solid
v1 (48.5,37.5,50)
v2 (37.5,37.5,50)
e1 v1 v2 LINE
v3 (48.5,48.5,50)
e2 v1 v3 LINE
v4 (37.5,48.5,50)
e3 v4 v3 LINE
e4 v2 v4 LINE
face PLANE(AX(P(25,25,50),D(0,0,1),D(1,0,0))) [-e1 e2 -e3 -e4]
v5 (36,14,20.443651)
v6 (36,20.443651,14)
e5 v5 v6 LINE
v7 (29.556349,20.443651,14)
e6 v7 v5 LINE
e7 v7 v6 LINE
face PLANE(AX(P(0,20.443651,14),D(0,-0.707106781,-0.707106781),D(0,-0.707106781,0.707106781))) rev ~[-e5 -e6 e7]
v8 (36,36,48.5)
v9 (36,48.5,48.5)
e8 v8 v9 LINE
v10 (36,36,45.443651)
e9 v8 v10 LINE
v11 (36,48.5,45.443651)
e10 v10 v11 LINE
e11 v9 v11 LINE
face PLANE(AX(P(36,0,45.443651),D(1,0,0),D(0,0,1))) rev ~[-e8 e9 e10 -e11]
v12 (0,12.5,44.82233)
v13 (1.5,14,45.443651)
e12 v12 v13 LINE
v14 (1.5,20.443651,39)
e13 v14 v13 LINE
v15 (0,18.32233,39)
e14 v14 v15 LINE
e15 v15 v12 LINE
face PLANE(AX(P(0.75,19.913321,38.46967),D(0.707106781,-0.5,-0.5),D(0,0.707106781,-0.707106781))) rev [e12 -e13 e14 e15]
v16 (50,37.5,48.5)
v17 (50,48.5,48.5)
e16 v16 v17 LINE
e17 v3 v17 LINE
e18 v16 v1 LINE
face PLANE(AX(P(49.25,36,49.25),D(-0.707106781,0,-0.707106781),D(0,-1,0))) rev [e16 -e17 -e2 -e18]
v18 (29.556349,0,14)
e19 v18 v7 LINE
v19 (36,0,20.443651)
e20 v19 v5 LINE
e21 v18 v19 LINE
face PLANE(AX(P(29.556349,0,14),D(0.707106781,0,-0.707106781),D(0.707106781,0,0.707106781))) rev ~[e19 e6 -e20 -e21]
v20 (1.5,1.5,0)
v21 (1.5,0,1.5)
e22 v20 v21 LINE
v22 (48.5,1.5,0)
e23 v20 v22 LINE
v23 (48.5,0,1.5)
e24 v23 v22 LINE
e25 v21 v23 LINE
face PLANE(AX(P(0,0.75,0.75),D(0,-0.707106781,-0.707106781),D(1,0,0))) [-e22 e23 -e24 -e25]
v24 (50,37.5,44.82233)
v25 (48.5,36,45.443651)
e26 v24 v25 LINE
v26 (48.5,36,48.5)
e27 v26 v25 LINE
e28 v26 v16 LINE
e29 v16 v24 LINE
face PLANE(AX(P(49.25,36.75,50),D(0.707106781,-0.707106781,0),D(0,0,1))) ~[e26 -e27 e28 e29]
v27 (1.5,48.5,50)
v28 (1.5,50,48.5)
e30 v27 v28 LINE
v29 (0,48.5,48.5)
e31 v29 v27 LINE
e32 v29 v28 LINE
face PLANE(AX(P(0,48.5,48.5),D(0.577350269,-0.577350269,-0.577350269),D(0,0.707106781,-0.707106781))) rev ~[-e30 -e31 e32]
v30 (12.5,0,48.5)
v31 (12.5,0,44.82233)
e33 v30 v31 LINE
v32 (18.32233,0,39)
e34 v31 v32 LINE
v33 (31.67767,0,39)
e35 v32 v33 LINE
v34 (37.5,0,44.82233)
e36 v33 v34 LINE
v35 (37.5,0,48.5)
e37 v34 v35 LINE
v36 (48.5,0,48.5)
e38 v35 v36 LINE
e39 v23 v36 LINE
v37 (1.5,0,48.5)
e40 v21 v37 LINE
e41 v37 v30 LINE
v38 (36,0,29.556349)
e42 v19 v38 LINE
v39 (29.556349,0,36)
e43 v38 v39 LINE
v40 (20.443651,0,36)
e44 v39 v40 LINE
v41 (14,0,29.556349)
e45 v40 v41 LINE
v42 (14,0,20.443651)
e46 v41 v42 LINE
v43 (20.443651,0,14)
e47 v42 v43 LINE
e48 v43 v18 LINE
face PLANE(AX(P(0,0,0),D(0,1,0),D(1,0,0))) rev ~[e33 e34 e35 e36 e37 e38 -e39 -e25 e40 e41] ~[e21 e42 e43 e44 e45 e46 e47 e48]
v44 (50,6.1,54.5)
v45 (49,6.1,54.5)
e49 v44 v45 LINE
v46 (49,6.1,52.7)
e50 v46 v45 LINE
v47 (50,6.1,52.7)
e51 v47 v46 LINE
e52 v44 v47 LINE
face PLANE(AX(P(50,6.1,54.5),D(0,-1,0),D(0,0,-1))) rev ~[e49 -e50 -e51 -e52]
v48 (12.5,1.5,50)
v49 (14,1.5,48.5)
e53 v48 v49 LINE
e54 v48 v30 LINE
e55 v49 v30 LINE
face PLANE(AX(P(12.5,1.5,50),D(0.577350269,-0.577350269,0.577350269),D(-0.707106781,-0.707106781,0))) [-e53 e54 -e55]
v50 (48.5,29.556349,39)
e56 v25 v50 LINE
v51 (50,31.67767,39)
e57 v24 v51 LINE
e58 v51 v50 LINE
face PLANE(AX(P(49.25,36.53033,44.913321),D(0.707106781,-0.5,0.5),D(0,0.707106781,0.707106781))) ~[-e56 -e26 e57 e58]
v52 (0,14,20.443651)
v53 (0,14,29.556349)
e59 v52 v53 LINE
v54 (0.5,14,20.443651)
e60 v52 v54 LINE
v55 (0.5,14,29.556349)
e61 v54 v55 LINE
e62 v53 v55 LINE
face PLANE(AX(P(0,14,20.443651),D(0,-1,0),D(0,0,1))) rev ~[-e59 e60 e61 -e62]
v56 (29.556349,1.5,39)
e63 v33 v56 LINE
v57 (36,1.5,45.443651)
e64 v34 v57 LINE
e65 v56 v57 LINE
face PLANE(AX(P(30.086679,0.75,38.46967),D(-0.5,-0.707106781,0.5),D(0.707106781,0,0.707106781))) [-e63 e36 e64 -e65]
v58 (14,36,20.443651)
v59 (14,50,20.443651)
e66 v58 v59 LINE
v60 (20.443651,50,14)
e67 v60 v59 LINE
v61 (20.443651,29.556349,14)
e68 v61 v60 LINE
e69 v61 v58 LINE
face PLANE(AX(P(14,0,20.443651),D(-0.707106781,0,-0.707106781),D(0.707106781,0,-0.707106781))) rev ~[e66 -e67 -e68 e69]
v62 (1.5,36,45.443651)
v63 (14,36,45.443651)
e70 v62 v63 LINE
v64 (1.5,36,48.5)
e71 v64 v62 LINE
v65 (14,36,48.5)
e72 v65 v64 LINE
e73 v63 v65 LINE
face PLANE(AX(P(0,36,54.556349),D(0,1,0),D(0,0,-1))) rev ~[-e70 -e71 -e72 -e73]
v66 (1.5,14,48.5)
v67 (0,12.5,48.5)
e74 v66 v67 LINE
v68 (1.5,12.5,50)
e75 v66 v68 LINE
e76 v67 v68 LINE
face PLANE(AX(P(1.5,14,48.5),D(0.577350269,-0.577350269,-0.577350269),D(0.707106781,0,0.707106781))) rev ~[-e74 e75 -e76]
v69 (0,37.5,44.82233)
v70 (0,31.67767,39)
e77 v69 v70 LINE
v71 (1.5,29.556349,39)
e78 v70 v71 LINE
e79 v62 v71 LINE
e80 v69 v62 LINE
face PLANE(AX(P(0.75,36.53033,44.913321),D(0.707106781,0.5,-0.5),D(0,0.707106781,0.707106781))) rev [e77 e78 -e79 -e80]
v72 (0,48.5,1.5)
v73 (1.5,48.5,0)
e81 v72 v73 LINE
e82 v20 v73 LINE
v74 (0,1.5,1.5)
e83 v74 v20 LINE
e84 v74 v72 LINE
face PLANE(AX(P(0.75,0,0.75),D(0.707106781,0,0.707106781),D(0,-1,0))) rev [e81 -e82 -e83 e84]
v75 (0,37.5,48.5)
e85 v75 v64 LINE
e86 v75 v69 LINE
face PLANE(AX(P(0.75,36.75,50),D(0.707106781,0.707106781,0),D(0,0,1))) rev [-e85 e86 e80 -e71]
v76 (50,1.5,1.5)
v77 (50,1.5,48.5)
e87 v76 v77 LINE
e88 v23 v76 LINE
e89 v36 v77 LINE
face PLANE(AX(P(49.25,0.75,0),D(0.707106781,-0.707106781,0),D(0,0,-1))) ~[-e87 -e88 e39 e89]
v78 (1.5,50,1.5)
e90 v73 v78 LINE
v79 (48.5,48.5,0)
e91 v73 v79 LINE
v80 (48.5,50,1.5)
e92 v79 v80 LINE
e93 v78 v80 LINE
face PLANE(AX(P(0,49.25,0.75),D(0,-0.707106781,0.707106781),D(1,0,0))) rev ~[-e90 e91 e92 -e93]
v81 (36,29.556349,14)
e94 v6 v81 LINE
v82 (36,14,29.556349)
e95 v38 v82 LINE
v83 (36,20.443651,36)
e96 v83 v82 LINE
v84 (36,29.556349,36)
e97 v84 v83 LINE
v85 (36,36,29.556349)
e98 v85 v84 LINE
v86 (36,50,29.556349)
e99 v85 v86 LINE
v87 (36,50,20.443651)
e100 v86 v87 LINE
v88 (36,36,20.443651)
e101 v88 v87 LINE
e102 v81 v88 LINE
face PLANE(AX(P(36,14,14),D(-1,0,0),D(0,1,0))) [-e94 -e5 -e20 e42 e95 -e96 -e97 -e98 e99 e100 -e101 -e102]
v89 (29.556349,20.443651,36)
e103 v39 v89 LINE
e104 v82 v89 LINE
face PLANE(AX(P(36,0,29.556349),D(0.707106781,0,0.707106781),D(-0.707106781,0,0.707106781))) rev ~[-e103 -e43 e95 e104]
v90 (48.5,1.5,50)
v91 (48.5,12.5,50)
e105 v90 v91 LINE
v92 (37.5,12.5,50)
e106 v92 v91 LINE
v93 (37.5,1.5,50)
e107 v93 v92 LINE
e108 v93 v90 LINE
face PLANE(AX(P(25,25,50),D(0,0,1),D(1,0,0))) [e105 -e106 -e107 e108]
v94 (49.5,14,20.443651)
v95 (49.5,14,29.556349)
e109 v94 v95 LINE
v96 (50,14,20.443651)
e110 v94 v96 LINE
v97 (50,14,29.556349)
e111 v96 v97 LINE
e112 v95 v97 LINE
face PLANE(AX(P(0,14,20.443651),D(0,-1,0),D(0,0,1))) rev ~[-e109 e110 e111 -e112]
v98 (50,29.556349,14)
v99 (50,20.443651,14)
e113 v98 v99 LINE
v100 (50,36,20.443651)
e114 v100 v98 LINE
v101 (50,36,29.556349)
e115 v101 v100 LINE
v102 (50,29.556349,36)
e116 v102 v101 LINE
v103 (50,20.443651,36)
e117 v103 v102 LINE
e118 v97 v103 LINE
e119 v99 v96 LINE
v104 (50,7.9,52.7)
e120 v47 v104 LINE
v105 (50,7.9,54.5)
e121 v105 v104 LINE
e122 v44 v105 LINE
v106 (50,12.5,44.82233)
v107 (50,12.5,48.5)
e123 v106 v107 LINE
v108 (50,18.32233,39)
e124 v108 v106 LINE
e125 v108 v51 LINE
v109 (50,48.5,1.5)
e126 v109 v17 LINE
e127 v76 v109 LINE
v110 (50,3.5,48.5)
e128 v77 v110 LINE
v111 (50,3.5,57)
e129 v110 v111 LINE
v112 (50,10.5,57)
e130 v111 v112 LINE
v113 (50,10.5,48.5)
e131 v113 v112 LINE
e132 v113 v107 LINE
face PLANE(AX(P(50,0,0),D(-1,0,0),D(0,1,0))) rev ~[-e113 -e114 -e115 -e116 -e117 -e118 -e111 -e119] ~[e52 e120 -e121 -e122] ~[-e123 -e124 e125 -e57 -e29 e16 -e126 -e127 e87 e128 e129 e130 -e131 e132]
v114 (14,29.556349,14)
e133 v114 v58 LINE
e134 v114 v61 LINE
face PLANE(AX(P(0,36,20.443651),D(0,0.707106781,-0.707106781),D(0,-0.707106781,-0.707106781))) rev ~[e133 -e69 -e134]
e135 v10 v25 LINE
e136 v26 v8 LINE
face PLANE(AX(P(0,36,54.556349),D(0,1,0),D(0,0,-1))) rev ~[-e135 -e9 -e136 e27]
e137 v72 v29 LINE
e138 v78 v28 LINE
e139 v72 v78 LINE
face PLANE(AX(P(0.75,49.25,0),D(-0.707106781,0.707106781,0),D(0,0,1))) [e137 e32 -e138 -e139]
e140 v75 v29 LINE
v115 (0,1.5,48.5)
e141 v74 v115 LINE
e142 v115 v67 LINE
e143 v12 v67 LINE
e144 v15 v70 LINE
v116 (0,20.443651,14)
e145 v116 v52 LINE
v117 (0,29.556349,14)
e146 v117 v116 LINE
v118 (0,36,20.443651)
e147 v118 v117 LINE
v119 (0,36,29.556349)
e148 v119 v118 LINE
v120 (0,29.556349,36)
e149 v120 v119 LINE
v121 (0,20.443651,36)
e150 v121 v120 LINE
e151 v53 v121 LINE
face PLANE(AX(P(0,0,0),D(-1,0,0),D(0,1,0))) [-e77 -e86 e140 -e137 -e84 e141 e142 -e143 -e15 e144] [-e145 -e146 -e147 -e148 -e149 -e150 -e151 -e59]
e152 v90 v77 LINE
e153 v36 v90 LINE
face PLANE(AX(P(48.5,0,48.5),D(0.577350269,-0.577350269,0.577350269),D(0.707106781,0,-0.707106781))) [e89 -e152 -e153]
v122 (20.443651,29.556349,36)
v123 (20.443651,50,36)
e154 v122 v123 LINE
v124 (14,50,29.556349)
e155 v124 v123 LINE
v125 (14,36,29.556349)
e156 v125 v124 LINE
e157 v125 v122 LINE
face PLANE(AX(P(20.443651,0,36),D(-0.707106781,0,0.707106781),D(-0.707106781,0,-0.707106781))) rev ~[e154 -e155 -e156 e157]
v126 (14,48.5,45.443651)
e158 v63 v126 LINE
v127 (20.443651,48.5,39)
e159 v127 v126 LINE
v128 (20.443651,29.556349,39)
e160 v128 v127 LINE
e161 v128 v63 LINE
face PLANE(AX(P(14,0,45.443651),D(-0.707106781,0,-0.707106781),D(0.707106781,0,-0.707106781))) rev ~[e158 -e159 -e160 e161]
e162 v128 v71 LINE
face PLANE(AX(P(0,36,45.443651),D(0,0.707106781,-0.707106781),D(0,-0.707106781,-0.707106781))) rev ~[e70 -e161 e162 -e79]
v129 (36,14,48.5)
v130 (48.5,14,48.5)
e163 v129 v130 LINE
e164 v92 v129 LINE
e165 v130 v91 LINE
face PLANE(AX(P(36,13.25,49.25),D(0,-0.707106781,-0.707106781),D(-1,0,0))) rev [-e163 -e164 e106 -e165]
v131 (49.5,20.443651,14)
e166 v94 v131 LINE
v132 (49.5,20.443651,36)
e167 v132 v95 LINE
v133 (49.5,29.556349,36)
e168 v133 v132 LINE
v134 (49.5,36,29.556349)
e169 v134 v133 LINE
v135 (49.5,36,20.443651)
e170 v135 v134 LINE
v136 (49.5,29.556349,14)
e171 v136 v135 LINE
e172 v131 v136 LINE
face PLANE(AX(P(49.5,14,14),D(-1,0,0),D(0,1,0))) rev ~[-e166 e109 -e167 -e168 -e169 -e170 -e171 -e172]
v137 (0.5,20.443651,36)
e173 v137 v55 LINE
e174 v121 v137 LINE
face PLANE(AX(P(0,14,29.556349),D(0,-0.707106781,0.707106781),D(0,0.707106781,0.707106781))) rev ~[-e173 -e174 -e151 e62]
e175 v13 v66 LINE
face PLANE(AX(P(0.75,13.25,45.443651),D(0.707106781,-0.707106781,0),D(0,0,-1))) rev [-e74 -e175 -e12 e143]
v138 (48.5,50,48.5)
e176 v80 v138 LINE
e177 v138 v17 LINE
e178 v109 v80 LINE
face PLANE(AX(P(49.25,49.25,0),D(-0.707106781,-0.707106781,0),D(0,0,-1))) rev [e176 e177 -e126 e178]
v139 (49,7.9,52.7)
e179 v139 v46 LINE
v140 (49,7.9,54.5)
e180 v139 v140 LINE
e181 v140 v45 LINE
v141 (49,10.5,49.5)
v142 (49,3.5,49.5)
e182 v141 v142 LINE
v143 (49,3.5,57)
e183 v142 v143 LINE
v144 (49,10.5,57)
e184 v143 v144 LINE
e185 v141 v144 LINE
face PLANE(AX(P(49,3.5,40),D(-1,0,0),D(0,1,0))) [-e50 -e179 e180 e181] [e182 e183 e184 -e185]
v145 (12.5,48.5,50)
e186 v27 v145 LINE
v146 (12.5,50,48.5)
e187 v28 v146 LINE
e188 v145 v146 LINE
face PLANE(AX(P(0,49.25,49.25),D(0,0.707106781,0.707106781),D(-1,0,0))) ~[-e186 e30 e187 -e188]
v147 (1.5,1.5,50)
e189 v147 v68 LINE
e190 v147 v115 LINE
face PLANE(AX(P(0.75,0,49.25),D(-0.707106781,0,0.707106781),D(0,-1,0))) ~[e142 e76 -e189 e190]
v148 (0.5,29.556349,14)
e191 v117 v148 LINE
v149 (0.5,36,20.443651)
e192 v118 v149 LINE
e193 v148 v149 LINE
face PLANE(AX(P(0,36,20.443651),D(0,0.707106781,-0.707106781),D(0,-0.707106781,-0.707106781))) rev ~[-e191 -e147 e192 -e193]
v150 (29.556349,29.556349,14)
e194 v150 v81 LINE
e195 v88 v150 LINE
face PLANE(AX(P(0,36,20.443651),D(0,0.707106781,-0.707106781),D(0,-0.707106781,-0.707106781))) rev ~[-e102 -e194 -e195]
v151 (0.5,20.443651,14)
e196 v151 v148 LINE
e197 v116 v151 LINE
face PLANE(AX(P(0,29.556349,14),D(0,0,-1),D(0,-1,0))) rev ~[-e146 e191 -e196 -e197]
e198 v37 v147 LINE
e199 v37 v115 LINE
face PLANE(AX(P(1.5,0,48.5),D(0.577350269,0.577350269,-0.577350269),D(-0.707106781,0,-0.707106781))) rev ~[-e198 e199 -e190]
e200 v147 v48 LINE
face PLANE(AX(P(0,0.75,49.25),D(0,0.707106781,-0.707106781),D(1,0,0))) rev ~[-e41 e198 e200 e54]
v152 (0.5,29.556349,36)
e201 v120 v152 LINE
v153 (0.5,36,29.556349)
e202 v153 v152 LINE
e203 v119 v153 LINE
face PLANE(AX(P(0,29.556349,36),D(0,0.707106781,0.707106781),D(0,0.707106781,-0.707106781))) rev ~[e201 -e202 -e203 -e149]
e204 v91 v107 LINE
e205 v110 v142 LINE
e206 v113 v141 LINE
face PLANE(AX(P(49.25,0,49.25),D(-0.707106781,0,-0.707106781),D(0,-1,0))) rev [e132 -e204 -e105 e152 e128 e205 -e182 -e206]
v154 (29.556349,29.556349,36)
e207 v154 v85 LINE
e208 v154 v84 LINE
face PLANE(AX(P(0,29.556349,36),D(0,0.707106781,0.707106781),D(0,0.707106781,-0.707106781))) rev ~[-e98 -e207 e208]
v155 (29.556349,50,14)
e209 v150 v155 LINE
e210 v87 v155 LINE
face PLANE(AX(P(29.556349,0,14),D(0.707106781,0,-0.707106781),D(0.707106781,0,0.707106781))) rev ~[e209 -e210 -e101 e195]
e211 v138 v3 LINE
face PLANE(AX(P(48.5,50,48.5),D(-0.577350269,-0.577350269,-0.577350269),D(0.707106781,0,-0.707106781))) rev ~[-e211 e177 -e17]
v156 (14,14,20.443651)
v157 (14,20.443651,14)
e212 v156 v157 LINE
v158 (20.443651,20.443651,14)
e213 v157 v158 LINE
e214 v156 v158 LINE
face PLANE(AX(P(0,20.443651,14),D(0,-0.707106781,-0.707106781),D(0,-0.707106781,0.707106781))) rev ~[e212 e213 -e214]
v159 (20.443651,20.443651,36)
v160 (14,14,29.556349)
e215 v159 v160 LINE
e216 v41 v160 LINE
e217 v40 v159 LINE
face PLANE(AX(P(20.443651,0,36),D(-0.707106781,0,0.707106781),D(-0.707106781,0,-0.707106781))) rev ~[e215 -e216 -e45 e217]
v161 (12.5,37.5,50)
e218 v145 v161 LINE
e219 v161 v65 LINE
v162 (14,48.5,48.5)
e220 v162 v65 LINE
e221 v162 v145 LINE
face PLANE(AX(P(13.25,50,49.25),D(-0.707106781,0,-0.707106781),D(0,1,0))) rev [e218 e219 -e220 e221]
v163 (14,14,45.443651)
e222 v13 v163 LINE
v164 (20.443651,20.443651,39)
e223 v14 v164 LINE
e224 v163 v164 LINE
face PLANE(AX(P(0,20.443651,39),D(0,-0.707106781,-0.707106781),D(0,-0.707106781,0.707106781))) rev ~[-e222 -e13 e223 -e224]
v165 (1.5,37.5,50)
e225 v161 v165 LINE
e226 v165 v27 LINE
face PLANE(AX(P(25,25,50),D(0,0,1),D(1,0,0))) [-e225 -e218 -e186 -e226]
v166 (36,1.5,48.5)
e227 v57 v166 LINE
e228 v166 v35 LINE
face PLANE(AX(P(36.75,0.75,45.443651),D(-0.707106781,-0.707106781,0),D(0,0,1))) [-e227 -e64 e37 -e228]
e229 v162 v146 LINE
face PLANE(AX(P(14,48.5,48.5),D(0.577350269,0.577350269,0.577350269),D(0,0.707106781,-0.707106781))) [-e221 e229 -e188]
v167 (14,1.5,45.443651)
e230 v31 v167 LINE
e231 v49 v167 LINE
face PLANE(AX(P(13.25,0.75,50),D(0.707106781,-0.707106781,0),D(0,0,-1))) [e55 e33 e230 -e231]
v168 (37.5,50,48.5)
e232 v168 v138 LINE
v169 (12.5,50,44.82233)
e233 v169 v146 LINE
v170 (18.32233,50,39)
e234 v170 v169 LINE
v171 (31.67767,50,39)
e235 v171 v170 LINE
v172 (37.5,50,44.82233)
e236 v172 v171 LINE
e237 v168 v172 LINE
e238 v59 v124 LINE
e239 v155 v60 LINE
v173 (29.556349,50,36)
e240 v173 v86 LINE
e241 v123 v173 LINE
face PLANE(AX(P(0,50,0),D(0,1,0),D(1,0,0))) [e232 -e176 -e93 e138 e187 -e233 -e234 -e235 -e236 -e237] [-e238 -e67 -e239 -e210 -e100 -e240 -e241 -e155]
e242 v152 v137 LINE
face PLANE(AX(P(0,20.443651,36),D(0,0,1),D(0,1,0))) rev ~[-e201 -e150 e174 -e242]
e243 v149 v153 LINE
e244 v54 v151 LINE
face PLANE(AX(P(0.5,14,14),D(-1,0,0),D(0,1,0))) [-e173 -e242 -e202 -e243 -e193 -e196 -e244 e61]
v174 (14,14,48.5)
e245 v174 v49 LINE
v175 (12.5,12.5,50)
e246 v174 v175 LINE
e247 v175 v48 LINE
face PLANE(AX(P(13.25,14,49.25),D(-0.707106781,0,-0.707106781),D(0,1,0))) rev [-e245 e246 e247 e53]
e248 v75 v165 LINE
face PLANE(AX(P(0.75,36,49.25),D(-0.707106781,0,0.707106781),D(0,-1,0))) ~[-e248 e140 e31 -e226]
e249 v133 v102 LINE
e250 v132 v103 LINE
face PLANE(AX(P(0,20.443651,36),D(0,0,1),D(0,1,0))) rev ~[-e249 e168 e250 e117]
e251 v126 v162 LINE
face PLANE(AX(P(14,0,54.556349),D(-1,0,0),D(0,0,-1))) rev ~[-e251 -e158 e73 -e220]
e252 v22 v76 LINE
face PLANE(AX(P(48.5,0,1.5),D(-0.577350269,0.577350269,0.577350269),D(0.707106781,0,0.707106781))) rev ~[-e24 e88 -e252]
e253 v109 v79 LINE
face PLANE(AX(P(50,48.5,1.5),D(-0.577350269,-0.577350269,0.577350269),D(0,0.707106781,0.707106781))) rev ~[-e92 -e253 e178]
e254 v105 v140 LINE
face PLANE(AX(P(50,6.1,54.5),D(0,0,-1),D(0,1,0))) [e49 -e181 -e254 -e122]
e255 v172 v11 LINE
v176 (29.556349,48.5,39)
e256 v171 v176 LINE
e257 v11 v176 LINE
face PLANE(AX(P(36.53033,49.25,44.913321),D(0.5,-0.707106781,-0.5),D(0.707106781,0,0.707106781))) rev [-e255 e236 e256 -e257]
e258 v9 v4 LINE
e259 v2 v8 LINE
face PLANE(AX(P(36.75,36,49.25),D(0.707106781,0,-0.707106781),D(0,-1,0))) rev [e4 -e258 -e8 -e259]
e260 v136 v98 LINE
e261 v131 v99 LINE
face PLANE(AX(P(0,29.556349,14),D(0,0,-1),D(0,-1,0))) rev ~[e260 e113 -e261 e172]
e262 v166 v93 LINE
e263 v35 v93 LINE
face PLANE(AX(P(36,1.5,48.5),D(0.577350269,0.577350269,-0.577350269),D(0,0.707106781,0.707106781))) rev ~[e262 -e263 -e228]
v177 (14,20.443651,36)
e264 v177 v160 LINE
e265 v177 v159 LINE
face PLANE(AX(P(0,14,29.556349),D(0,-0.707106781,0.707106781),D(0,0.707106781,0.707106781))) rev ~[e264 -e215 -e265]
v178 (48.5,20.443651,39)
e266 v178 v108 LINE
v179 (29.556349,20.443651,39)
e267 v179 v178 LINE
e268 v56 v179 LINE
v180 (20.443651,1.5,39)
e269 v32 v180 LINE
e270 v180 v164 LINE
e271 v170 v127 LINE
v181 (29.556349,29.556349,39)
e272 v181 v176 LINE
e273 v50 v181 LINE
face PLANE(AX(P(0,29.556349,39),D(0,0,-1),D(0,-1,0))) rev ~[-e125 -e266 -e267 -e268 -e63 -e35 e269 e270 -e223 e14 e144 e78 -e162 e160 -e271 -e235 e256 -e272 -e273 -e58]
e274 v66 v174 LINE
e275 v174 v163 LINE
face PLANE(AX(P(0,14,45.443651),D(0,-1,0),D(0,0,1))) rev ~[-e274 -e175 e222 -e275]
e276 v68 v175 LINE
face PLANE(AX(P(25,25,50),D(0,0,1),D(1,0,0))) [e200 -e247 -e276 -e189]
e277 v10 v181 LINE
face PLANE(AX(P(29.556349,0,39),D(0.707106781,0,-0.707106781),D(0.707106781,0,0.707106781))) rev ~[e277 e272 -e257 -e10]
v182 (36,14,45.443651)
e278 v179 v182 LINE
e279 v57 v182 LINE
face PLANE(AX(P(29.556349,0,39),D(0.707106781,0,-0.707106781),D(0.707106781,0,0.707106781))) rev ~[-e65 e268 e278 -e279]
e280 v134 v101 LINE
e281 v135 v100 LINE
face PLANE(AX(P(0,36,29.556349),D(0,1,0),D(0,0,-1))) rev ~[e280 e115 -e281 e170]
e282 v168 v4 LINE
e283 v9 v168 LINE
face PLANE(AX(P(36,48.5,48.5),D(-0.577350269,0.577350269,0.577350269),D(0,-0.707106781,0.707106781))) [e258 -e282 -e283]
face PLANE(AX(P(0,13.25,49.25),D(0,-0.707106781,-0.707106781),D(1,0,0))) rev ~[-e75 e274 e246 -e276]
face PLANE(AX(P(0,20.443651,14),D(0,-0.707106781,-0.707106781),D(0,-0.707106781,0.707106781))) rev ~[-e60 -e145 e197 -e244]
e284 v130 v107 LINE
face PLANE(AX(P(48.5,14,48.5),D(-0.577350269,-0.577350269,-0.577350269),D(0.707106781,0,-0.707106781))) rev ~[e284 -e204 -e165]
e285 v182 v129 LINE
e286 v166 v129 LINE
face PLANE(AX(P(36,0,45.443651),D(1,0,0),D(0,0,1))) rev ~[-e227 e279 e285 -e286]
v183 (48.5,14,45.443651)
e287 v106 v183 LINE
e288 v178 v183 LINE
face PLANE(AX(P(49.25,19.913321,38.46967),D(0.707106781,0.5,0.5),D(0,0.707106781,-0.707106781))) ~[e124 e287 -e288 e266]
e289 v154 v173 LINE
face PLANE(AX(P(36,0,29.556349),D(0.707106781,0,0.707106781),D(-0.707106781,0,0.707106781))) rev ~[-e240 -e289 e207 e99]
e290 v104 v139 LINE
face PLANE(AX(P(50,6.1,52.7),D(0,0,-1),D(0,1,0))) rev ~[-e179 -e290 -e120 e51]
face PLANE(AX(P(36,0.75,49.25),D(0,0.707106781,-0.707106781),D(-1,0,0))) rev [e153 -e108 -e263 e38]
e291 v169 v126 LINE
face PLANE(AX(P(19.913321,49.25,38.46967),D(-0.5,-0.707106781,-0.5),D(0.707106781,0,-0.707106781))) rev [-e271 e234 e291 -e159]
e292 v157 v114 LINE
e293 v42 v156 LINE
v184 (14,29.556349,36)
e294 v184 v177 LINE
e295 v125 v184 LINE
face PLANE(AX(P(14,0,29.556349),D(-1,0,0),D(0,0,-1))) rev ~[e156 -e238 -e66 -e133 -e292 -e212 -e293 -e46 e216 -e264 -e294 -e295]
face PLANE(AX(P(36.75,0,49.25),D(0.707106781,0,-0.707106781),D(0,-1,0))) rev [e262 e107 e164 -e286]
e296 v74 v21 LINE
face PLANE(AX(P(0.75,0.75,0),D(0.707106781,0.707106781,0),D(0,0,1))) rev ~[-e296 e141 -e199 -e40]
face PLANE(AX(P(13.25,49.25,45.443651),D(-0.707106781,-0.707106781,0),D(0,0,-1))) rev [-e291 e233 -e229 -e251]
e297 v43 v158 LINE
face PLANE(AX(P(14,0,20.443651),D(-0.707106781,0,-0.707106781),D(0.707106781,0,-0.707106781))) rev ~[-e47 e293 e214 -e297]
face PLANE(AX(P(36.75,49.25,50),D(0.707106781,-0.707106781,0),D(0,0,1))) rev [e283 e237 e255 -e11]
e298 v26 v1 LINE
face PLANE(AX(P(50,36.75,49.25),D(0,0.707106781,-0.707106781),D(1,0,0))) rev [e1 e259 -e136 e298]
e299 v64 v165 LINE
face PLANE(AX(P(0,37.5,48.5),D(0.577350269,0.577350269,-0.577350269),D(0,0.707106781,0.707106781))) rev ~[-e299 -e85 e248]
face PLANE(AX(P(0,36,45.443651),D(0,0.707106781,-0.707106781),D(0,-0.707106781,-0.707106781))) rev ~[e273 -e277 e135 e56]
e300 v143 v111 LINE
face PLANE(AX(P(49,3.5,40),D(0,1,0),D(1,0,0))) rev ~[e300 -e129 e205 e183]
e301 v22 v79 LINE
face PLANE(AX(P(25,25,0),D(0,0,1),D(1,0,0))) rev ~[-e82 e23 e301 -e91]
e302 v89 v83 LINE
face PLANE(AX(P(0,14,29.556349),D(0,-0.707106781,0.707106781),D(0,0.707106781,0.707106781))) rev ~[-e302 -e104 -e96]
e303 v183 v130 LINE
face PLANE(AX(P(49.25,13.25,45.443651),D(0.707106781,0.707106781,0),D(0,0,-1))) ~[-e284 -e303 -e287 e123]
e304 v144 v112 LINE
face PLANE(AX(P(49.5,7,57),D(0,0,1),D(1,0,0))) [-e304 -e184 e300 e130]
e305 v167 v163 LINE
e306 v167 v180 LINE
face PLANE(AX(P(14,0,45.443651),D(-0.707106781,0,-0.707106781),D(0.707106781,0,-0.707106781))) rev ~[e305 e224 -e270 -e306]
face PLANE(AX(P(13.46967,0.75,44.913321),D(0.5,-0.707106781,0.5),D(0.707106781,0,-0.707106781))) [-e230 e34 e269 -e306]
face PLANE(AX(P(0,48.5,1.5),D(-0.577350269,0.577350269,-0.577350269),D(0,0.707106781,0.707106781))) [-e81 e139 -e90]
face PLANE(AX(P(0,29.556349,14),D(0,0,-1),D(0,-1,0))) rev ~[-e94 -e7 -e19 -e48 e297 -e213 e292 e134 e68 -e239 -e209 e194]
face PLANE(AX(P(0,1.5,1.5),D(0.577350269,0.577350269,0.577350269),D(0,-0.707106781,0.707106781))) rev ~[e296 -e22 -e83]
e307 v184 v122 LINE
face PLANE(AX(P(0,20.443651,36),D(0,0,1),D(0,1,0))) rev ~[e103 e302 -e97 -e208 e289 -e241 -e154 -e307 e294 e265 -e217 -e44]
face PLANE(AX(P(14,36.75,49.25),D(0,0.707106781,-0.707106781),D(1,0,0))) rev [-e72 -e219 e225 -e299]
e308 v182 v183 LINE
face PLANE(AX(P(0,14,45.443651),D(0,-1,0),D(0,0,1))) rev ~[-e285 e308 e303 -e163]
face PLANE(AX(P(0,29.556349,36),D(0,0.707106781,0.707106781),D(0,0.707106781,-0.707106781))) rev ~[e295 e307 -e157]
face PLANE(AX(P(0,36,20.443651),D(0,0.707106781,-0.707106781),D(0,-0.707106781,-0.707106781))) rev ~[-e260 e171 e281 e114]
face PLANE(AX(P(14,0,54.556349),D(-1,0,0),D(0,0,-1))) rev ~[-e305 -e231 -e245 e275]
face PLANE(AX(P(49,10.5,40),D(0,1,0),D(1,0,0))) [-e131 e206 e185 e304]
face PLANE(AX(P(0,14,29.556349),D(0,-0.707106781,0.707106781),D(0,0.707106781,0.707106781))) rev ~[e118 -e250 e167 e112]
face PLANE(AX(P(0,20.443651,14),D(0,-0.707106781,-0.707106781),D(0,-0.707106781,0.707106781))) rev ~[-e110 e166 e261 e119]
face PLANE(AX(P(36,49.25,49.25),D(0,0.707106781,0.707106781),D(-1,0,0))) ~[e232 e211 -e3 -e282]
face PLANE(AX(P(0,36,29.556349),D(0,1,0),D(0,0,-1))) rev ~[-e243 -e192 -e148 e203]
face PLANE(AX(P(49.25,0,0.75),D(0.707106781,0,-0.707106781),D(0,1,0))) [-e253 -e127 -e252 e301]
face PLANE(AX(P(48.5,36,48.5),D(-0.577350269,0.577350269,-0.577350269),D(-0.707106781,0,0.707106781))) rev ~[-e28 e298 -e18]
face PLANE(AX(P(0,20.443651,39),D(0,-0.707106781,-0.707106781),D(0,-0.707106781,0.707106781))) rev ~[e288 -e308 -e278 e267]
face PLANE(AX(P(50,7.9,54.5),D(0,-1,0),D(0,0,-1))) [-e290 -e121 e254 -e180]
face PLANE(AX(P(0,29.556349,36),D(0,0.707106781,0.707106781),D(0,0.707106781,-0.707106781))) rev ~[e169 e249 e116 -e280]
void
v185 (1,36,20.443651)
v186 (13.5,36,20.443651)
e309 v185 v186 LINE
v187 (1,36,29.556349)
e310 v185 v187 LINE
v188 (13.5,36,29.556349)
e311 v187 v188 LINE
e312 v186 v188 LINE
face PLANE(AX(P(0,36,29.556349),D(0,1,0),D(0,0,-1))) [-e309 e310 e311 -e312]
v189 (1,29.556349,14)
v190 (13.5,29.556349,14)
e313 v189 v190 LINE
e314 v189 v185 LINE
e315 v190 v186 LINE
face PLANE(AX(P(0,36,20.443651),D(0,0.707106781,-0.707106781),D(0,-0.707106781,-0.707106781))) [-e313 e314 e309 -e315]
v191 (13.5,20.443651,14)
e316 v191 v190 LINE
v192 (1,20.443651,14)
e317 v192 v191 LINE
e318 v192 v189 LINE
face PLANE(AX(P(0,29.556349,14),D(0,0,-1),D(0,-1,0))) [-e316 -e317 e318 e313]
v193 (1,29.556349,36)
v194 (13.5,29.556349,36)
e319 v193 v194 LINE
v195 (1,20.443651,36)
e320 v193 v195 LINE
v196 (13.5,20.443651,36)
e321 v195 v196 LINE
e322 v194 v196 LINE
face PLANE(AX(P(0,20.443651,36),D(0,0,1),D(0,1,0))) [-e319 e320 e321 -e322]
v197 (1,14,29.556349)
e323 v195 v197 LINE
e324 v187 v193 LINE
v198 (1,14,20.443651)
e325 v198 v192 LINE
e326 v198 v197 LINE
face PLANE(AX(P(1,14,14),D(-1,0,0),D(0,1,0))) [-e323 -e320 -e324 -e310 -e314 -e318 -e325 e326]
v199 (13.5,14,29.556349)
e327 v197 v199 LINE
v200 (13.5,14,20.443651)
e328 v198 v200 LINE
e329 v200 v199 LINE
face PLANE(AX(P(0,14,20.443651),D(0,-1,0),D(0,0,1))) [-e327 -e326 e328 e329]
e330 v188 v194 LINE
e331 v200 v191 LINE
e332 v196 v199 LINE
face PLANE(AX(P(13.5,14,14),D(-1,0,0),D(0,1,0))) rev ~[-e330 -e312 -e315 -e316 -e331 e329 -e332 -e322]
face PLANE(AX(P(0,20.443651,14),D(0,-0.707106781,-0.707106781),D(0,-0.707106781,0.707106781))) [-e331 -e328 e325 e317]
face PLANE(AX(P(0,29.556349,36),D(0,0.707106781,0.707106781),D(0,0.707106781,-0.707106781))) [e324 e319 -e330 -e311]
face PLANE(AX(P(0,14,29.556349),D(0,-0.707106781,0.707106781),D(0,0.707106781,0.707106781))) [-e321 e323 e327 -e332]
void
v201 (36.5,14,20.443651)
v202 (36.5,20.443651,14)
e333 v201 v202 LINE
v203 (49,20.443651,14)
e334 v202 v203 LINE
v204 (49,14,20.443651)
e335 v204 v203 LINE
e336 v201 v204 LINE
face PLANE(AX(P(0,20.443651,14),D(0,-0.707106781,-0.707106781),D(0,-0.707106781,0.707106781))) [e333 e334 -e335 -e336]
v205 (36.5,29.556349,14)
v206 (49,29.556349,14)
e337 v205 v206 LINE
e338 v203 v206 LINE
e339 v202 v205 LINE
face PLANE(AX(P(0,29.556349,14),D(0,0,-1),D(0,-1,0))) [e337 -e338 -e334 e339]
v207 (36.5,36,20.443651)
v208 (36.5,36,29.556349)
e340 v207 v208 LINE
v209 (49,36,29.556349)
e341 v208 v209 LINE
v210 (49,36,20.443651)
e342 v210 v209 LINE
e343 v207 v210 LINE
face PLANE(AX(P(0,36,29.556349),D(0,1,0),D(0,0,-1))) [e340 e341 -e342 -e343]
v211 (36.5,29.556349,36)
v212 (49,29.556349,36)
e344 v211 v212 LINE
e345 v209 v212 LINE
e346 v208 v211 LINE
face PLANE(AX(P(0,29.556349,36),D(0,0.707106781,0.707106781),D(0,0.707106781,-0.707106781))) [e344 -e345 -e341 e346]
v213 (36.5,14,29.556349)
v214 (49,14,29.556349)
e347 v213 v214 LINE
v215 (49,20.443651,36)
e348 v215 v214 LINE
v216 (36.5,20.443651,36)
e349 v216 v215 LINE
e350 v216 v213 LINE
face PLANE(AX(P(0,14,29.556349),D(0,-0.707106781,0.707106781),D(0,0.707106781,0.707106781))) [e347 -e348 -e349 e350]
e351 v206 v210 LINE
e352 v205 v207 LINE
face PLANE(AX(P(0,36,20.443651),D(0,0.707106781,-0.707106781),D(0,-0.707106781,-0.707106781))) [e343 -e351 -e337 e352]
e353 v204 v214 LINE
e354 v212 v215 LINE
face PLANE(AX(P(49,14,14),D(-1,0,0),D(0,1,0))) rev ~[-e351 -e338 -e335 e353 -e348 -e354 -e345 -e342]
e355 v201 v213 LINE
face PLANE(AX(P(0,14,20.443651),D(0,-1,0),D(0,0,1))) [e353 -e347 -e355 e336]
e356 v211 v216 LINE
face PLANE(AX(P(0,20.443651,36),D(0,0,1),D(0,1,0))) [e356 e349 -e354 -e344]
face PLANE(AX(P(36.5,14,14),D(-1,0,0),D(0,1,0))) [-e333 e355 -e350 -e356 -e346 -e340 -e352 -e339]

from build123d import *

# Parameters (mm, degrees)
SKETCH1_W                = 50
SKETCH1_H                = 50
BOSS_EXTRUDE1_DEPTH      = 50
CUT_EXTRUDE1_DEPTH       = 87.602540378
CUT_EXTRUDE2_DEPTH       = 87.602540378
CHAMFER1_SIZE            = 1.5
BOSS_EXTRUDE2_REACH      = 81.347
SKETCH11_W               = 0.5
SKETCH11_H               = 22
BOSS_EXTRUDE3_DEPTH      = 7
BOSS_EXTRUDE3_DEPTH_BACK = 10
SKETCH12_W               = 1
SKETCH12_H               = 7
SKETCH13_W               = 1.8
SKETCH13_H               = 1.8
CUT_EXTRUDE3_DEPTH       = 7


with BuildPart() as part:
    # Sketch1 → Boss-Extrude1 (new body)
    with BuildSketch(Plane.XY):
        with Locations((25, 25)):
            Rectangle(SKETCH1_W, SKETCH1_H)
    extrude(amount=BOSS_EXTRUDE1_DEPTH)

    # Sketch2 → Cut-Extrude1 (cut, through all)
    with BuildSketch(Plane.ZY):
        Polygon((45.443650814, 14), (54.556349186, 14), (61, 20.443650814), (61, 29.556349186), (54.556349186, 36), (45.443650814, 36), (39, 29.556349186), (39, 20.443650814), align=None)
        Polygon((36, 29.556349186), (29.556349186, 36), (20.443650814, 36), (14, 29.556349186), (14, 20.443650814), (20.443650814, 14), (29.556349186, 14), (36, 20.443650814), align=None)
    extrude(amount=-CUT_EXTRUDE1_DEPTH, mode=Mode.SUBTRACT)

    # Sketch10 → Cut-Extrude2 (cut, through all)
    with BuildSketch(Plane.XZ):
        Polygon((29.556349186, 36), (20.443650814, 36), (14, 29.556349186), (14, 20.443650814), (20.443650814, 14), (29.556349186, 14), (36, 20.443650814), (36, 29.556349186), align=None)
        Polygon((29.556349186, 39), (36, 45.443650814), (36, 54.556349186), (29.556349186, 61), (20.443650814, 61), (14, 54.556349186), (14, 45.443650814), (20.443650814, 39), align=None)
    extrude(amount=-CUT_EXTRUDE2_DEPTH, mode=Mode.SUBTRACT)

    # Chamfer1
    chamfer1_edges = [part.edges().sort_by_distance(p)[0] for p in [
        (50, 7, 50),
        (0, 7, 50),
        (50, 43, 50),
        (43, 14, 50),
        (7, 36, 50),
        (50, 36, 47.721825407),
        (50, 14, 47.721825407),
        (0, 14, 47.721825407),
        (0, 36, 47.721825407),
        (0, 32.778174593, 42.221825407),
        (0, 17.221825407, 42.221825407),
        (50, 17.221825407, 42.221825407),
        (50, 32.778174593, 42.221825407),
        (43, 50, 50),
        (7, 14, 50),
        (43, 36, 50),
        (43, 0, 50),
        (7, 50, 50),
        (36, 0, 47.721825407),
        (14, 0, 47.721825407),
        (17.221825407, 0, 42.221825407),
        (32.778174593, 0, 42.221825407),
        (14, 43, 50),
        (14, 50, 47.721825407),
        (14, 7, 50),
        (36, 50, 47.721825407),
        (36, 43, 50),
        (36, 7, 50),
        (17.221825407, 50, 42.221825407),
        (32.778174593, 50, 42.221825407),
        (0, 43, 50),
        (25, 50, 0),
        (50, 25, 0),
        (25, 0, 0),
        (0, 25, 0),
        (7, 0, 50),
        (0, 50, 25),
        (50, 50, 25),
        (50, 0, 25),
        (0, 0, 25),
    ]]
    chamfer(chamfer1_edges, length=CHAMFER1_SIZE)

    # Boss-Extrude2: up to this face of the body (flat: up to its plane)
    boss_extrude2_end = Plane(part.part.faces().sort_by_distance((25, 25, 39))[0])
    # Sketch11 → Boss-Extrude2 (add, up to the picked face)
    with BuildSketch(Plane.XY.offset(14), mode=Mode.PRIVATE) as boss_extrude2_sk1:
        with Locations((36.25, 25)):
            Rectangle(SKETCH11_W, SKETCH11_H)
    boss_extrude2_tool1 = split(extrude(boss_extrude2_sk1.sketch, amount=BOSS_EXTRUDE2_REACH, mode=Mode.PRIVATE), bisect_by=boss_extrude2_end, keep=Keep.BOTH, mode=Mode.PRIVATE)
    # Sketch11 → Boss-Extrude2 (add, up to the picked face)
    with BuildSketch(Plane.XY.offset(14), mode=Mode.PRIVATE) as boss_extrude2_sk2:
        with Locations((13.75, 25)):
            Rectangle(SKETCH11_W, SKETCH11_H)
    boss_extrude2_tool2 = split(extrude(boss_extrude2_sk2.sketch, amount=BOSS_EXTRUDE2_REACH, mode=Mode.PRIVATE), bisect_by=boss_extrude2_end, keep=Keep.BOTH, mode=Mode.PRIVATE)
    # Sketch11 → Boss-Extrude2 (add, up to the picked face)
    with BuildSketch(Plane.XY.offset(14), mode=Mode.PRIVATE) as boss_extrude2_sk3:
        with Locations((49.25, 25)):
            Rectangle(SKETCH11_W, SKETCH11_H)
    boss_extrude2_tool3 = split(extrude(boss_extrude2_sk3.sketch, amount=BOSS_EXTRUDE2_REACH, mode=Mode.PRIVATE), bisect_by=boss_extrude2_end, keep=Keep.BOTH, mode=Mode.PRIVATE)
    # Sketch11 → Boss-Extrude2 (add, up to the picked face)
    with BuildSketch(Plane.XY.offset(14), mode=Mode.PRIVATE) as boss_extrude2_sk4:
        with Locations((0.75, 25)):
            Rectangle(SKETCH11_W, SKETCH11_H)
    boss_extrude2_tool4 = split(extrude(boss_extrude2_sk4.sketch, amount=BOSS_EXTRUDE2_REACH, mode=Mode.PRIVATE), bisect_by=boss_extrude2_end, keep=Keep.BOTH, mode=Mode.PRIVATE)
    add(boss_extrude2_tool1.solids().sort_by(Axis((36.25, 25, 14), (0, 0, 1)))[0])
    add(boss_extrude2_tool2.solids().sort_by(Axis((13.75, 25, 14), (0, 0, 1)))[0])
    add(boss_extrude2_tool3.solids().sort_by(Axis((49.25, 25, 14), (0, 0, 1)))[0])
    add(boss_extrude2_tool4.solids().sort_by(Axis((0.75, 25, 14), (0, 0, 1)))[0])

    # Sketch12 → Boss-Extrude3 (add, two sides: drawn at the far end of the back side and taken through both)
    with BuildSketch(Plane.XY.offset(50).offset(-BOSS_EXTRUDE3_DEPTH_BACK)):
        with Locations((49.5, 7)):
            Rectangle(SKETCH12_W, SKETCH12_H)
    extrude(amount=BOSS_EXTRUDE3_DEPTH + BOSS_EXTRUDE3_DEPTH_BACK)

    # Sketch13 → Cut-Extrude3 (cut)
    with BuildSketch(Plane(origin=(50, 0, 0), x_dir=(0, 0, -1), z_dir=(1, 0, 0))):
        with Locations((-53.6, 7)):
            Rectangle(SKETCH13_W, SKETCH13_H)
    extrude(amount=-CUT_EXTRUDE3_DEPTH, mode=Mode.SUBTRACT)


solid = part.part
